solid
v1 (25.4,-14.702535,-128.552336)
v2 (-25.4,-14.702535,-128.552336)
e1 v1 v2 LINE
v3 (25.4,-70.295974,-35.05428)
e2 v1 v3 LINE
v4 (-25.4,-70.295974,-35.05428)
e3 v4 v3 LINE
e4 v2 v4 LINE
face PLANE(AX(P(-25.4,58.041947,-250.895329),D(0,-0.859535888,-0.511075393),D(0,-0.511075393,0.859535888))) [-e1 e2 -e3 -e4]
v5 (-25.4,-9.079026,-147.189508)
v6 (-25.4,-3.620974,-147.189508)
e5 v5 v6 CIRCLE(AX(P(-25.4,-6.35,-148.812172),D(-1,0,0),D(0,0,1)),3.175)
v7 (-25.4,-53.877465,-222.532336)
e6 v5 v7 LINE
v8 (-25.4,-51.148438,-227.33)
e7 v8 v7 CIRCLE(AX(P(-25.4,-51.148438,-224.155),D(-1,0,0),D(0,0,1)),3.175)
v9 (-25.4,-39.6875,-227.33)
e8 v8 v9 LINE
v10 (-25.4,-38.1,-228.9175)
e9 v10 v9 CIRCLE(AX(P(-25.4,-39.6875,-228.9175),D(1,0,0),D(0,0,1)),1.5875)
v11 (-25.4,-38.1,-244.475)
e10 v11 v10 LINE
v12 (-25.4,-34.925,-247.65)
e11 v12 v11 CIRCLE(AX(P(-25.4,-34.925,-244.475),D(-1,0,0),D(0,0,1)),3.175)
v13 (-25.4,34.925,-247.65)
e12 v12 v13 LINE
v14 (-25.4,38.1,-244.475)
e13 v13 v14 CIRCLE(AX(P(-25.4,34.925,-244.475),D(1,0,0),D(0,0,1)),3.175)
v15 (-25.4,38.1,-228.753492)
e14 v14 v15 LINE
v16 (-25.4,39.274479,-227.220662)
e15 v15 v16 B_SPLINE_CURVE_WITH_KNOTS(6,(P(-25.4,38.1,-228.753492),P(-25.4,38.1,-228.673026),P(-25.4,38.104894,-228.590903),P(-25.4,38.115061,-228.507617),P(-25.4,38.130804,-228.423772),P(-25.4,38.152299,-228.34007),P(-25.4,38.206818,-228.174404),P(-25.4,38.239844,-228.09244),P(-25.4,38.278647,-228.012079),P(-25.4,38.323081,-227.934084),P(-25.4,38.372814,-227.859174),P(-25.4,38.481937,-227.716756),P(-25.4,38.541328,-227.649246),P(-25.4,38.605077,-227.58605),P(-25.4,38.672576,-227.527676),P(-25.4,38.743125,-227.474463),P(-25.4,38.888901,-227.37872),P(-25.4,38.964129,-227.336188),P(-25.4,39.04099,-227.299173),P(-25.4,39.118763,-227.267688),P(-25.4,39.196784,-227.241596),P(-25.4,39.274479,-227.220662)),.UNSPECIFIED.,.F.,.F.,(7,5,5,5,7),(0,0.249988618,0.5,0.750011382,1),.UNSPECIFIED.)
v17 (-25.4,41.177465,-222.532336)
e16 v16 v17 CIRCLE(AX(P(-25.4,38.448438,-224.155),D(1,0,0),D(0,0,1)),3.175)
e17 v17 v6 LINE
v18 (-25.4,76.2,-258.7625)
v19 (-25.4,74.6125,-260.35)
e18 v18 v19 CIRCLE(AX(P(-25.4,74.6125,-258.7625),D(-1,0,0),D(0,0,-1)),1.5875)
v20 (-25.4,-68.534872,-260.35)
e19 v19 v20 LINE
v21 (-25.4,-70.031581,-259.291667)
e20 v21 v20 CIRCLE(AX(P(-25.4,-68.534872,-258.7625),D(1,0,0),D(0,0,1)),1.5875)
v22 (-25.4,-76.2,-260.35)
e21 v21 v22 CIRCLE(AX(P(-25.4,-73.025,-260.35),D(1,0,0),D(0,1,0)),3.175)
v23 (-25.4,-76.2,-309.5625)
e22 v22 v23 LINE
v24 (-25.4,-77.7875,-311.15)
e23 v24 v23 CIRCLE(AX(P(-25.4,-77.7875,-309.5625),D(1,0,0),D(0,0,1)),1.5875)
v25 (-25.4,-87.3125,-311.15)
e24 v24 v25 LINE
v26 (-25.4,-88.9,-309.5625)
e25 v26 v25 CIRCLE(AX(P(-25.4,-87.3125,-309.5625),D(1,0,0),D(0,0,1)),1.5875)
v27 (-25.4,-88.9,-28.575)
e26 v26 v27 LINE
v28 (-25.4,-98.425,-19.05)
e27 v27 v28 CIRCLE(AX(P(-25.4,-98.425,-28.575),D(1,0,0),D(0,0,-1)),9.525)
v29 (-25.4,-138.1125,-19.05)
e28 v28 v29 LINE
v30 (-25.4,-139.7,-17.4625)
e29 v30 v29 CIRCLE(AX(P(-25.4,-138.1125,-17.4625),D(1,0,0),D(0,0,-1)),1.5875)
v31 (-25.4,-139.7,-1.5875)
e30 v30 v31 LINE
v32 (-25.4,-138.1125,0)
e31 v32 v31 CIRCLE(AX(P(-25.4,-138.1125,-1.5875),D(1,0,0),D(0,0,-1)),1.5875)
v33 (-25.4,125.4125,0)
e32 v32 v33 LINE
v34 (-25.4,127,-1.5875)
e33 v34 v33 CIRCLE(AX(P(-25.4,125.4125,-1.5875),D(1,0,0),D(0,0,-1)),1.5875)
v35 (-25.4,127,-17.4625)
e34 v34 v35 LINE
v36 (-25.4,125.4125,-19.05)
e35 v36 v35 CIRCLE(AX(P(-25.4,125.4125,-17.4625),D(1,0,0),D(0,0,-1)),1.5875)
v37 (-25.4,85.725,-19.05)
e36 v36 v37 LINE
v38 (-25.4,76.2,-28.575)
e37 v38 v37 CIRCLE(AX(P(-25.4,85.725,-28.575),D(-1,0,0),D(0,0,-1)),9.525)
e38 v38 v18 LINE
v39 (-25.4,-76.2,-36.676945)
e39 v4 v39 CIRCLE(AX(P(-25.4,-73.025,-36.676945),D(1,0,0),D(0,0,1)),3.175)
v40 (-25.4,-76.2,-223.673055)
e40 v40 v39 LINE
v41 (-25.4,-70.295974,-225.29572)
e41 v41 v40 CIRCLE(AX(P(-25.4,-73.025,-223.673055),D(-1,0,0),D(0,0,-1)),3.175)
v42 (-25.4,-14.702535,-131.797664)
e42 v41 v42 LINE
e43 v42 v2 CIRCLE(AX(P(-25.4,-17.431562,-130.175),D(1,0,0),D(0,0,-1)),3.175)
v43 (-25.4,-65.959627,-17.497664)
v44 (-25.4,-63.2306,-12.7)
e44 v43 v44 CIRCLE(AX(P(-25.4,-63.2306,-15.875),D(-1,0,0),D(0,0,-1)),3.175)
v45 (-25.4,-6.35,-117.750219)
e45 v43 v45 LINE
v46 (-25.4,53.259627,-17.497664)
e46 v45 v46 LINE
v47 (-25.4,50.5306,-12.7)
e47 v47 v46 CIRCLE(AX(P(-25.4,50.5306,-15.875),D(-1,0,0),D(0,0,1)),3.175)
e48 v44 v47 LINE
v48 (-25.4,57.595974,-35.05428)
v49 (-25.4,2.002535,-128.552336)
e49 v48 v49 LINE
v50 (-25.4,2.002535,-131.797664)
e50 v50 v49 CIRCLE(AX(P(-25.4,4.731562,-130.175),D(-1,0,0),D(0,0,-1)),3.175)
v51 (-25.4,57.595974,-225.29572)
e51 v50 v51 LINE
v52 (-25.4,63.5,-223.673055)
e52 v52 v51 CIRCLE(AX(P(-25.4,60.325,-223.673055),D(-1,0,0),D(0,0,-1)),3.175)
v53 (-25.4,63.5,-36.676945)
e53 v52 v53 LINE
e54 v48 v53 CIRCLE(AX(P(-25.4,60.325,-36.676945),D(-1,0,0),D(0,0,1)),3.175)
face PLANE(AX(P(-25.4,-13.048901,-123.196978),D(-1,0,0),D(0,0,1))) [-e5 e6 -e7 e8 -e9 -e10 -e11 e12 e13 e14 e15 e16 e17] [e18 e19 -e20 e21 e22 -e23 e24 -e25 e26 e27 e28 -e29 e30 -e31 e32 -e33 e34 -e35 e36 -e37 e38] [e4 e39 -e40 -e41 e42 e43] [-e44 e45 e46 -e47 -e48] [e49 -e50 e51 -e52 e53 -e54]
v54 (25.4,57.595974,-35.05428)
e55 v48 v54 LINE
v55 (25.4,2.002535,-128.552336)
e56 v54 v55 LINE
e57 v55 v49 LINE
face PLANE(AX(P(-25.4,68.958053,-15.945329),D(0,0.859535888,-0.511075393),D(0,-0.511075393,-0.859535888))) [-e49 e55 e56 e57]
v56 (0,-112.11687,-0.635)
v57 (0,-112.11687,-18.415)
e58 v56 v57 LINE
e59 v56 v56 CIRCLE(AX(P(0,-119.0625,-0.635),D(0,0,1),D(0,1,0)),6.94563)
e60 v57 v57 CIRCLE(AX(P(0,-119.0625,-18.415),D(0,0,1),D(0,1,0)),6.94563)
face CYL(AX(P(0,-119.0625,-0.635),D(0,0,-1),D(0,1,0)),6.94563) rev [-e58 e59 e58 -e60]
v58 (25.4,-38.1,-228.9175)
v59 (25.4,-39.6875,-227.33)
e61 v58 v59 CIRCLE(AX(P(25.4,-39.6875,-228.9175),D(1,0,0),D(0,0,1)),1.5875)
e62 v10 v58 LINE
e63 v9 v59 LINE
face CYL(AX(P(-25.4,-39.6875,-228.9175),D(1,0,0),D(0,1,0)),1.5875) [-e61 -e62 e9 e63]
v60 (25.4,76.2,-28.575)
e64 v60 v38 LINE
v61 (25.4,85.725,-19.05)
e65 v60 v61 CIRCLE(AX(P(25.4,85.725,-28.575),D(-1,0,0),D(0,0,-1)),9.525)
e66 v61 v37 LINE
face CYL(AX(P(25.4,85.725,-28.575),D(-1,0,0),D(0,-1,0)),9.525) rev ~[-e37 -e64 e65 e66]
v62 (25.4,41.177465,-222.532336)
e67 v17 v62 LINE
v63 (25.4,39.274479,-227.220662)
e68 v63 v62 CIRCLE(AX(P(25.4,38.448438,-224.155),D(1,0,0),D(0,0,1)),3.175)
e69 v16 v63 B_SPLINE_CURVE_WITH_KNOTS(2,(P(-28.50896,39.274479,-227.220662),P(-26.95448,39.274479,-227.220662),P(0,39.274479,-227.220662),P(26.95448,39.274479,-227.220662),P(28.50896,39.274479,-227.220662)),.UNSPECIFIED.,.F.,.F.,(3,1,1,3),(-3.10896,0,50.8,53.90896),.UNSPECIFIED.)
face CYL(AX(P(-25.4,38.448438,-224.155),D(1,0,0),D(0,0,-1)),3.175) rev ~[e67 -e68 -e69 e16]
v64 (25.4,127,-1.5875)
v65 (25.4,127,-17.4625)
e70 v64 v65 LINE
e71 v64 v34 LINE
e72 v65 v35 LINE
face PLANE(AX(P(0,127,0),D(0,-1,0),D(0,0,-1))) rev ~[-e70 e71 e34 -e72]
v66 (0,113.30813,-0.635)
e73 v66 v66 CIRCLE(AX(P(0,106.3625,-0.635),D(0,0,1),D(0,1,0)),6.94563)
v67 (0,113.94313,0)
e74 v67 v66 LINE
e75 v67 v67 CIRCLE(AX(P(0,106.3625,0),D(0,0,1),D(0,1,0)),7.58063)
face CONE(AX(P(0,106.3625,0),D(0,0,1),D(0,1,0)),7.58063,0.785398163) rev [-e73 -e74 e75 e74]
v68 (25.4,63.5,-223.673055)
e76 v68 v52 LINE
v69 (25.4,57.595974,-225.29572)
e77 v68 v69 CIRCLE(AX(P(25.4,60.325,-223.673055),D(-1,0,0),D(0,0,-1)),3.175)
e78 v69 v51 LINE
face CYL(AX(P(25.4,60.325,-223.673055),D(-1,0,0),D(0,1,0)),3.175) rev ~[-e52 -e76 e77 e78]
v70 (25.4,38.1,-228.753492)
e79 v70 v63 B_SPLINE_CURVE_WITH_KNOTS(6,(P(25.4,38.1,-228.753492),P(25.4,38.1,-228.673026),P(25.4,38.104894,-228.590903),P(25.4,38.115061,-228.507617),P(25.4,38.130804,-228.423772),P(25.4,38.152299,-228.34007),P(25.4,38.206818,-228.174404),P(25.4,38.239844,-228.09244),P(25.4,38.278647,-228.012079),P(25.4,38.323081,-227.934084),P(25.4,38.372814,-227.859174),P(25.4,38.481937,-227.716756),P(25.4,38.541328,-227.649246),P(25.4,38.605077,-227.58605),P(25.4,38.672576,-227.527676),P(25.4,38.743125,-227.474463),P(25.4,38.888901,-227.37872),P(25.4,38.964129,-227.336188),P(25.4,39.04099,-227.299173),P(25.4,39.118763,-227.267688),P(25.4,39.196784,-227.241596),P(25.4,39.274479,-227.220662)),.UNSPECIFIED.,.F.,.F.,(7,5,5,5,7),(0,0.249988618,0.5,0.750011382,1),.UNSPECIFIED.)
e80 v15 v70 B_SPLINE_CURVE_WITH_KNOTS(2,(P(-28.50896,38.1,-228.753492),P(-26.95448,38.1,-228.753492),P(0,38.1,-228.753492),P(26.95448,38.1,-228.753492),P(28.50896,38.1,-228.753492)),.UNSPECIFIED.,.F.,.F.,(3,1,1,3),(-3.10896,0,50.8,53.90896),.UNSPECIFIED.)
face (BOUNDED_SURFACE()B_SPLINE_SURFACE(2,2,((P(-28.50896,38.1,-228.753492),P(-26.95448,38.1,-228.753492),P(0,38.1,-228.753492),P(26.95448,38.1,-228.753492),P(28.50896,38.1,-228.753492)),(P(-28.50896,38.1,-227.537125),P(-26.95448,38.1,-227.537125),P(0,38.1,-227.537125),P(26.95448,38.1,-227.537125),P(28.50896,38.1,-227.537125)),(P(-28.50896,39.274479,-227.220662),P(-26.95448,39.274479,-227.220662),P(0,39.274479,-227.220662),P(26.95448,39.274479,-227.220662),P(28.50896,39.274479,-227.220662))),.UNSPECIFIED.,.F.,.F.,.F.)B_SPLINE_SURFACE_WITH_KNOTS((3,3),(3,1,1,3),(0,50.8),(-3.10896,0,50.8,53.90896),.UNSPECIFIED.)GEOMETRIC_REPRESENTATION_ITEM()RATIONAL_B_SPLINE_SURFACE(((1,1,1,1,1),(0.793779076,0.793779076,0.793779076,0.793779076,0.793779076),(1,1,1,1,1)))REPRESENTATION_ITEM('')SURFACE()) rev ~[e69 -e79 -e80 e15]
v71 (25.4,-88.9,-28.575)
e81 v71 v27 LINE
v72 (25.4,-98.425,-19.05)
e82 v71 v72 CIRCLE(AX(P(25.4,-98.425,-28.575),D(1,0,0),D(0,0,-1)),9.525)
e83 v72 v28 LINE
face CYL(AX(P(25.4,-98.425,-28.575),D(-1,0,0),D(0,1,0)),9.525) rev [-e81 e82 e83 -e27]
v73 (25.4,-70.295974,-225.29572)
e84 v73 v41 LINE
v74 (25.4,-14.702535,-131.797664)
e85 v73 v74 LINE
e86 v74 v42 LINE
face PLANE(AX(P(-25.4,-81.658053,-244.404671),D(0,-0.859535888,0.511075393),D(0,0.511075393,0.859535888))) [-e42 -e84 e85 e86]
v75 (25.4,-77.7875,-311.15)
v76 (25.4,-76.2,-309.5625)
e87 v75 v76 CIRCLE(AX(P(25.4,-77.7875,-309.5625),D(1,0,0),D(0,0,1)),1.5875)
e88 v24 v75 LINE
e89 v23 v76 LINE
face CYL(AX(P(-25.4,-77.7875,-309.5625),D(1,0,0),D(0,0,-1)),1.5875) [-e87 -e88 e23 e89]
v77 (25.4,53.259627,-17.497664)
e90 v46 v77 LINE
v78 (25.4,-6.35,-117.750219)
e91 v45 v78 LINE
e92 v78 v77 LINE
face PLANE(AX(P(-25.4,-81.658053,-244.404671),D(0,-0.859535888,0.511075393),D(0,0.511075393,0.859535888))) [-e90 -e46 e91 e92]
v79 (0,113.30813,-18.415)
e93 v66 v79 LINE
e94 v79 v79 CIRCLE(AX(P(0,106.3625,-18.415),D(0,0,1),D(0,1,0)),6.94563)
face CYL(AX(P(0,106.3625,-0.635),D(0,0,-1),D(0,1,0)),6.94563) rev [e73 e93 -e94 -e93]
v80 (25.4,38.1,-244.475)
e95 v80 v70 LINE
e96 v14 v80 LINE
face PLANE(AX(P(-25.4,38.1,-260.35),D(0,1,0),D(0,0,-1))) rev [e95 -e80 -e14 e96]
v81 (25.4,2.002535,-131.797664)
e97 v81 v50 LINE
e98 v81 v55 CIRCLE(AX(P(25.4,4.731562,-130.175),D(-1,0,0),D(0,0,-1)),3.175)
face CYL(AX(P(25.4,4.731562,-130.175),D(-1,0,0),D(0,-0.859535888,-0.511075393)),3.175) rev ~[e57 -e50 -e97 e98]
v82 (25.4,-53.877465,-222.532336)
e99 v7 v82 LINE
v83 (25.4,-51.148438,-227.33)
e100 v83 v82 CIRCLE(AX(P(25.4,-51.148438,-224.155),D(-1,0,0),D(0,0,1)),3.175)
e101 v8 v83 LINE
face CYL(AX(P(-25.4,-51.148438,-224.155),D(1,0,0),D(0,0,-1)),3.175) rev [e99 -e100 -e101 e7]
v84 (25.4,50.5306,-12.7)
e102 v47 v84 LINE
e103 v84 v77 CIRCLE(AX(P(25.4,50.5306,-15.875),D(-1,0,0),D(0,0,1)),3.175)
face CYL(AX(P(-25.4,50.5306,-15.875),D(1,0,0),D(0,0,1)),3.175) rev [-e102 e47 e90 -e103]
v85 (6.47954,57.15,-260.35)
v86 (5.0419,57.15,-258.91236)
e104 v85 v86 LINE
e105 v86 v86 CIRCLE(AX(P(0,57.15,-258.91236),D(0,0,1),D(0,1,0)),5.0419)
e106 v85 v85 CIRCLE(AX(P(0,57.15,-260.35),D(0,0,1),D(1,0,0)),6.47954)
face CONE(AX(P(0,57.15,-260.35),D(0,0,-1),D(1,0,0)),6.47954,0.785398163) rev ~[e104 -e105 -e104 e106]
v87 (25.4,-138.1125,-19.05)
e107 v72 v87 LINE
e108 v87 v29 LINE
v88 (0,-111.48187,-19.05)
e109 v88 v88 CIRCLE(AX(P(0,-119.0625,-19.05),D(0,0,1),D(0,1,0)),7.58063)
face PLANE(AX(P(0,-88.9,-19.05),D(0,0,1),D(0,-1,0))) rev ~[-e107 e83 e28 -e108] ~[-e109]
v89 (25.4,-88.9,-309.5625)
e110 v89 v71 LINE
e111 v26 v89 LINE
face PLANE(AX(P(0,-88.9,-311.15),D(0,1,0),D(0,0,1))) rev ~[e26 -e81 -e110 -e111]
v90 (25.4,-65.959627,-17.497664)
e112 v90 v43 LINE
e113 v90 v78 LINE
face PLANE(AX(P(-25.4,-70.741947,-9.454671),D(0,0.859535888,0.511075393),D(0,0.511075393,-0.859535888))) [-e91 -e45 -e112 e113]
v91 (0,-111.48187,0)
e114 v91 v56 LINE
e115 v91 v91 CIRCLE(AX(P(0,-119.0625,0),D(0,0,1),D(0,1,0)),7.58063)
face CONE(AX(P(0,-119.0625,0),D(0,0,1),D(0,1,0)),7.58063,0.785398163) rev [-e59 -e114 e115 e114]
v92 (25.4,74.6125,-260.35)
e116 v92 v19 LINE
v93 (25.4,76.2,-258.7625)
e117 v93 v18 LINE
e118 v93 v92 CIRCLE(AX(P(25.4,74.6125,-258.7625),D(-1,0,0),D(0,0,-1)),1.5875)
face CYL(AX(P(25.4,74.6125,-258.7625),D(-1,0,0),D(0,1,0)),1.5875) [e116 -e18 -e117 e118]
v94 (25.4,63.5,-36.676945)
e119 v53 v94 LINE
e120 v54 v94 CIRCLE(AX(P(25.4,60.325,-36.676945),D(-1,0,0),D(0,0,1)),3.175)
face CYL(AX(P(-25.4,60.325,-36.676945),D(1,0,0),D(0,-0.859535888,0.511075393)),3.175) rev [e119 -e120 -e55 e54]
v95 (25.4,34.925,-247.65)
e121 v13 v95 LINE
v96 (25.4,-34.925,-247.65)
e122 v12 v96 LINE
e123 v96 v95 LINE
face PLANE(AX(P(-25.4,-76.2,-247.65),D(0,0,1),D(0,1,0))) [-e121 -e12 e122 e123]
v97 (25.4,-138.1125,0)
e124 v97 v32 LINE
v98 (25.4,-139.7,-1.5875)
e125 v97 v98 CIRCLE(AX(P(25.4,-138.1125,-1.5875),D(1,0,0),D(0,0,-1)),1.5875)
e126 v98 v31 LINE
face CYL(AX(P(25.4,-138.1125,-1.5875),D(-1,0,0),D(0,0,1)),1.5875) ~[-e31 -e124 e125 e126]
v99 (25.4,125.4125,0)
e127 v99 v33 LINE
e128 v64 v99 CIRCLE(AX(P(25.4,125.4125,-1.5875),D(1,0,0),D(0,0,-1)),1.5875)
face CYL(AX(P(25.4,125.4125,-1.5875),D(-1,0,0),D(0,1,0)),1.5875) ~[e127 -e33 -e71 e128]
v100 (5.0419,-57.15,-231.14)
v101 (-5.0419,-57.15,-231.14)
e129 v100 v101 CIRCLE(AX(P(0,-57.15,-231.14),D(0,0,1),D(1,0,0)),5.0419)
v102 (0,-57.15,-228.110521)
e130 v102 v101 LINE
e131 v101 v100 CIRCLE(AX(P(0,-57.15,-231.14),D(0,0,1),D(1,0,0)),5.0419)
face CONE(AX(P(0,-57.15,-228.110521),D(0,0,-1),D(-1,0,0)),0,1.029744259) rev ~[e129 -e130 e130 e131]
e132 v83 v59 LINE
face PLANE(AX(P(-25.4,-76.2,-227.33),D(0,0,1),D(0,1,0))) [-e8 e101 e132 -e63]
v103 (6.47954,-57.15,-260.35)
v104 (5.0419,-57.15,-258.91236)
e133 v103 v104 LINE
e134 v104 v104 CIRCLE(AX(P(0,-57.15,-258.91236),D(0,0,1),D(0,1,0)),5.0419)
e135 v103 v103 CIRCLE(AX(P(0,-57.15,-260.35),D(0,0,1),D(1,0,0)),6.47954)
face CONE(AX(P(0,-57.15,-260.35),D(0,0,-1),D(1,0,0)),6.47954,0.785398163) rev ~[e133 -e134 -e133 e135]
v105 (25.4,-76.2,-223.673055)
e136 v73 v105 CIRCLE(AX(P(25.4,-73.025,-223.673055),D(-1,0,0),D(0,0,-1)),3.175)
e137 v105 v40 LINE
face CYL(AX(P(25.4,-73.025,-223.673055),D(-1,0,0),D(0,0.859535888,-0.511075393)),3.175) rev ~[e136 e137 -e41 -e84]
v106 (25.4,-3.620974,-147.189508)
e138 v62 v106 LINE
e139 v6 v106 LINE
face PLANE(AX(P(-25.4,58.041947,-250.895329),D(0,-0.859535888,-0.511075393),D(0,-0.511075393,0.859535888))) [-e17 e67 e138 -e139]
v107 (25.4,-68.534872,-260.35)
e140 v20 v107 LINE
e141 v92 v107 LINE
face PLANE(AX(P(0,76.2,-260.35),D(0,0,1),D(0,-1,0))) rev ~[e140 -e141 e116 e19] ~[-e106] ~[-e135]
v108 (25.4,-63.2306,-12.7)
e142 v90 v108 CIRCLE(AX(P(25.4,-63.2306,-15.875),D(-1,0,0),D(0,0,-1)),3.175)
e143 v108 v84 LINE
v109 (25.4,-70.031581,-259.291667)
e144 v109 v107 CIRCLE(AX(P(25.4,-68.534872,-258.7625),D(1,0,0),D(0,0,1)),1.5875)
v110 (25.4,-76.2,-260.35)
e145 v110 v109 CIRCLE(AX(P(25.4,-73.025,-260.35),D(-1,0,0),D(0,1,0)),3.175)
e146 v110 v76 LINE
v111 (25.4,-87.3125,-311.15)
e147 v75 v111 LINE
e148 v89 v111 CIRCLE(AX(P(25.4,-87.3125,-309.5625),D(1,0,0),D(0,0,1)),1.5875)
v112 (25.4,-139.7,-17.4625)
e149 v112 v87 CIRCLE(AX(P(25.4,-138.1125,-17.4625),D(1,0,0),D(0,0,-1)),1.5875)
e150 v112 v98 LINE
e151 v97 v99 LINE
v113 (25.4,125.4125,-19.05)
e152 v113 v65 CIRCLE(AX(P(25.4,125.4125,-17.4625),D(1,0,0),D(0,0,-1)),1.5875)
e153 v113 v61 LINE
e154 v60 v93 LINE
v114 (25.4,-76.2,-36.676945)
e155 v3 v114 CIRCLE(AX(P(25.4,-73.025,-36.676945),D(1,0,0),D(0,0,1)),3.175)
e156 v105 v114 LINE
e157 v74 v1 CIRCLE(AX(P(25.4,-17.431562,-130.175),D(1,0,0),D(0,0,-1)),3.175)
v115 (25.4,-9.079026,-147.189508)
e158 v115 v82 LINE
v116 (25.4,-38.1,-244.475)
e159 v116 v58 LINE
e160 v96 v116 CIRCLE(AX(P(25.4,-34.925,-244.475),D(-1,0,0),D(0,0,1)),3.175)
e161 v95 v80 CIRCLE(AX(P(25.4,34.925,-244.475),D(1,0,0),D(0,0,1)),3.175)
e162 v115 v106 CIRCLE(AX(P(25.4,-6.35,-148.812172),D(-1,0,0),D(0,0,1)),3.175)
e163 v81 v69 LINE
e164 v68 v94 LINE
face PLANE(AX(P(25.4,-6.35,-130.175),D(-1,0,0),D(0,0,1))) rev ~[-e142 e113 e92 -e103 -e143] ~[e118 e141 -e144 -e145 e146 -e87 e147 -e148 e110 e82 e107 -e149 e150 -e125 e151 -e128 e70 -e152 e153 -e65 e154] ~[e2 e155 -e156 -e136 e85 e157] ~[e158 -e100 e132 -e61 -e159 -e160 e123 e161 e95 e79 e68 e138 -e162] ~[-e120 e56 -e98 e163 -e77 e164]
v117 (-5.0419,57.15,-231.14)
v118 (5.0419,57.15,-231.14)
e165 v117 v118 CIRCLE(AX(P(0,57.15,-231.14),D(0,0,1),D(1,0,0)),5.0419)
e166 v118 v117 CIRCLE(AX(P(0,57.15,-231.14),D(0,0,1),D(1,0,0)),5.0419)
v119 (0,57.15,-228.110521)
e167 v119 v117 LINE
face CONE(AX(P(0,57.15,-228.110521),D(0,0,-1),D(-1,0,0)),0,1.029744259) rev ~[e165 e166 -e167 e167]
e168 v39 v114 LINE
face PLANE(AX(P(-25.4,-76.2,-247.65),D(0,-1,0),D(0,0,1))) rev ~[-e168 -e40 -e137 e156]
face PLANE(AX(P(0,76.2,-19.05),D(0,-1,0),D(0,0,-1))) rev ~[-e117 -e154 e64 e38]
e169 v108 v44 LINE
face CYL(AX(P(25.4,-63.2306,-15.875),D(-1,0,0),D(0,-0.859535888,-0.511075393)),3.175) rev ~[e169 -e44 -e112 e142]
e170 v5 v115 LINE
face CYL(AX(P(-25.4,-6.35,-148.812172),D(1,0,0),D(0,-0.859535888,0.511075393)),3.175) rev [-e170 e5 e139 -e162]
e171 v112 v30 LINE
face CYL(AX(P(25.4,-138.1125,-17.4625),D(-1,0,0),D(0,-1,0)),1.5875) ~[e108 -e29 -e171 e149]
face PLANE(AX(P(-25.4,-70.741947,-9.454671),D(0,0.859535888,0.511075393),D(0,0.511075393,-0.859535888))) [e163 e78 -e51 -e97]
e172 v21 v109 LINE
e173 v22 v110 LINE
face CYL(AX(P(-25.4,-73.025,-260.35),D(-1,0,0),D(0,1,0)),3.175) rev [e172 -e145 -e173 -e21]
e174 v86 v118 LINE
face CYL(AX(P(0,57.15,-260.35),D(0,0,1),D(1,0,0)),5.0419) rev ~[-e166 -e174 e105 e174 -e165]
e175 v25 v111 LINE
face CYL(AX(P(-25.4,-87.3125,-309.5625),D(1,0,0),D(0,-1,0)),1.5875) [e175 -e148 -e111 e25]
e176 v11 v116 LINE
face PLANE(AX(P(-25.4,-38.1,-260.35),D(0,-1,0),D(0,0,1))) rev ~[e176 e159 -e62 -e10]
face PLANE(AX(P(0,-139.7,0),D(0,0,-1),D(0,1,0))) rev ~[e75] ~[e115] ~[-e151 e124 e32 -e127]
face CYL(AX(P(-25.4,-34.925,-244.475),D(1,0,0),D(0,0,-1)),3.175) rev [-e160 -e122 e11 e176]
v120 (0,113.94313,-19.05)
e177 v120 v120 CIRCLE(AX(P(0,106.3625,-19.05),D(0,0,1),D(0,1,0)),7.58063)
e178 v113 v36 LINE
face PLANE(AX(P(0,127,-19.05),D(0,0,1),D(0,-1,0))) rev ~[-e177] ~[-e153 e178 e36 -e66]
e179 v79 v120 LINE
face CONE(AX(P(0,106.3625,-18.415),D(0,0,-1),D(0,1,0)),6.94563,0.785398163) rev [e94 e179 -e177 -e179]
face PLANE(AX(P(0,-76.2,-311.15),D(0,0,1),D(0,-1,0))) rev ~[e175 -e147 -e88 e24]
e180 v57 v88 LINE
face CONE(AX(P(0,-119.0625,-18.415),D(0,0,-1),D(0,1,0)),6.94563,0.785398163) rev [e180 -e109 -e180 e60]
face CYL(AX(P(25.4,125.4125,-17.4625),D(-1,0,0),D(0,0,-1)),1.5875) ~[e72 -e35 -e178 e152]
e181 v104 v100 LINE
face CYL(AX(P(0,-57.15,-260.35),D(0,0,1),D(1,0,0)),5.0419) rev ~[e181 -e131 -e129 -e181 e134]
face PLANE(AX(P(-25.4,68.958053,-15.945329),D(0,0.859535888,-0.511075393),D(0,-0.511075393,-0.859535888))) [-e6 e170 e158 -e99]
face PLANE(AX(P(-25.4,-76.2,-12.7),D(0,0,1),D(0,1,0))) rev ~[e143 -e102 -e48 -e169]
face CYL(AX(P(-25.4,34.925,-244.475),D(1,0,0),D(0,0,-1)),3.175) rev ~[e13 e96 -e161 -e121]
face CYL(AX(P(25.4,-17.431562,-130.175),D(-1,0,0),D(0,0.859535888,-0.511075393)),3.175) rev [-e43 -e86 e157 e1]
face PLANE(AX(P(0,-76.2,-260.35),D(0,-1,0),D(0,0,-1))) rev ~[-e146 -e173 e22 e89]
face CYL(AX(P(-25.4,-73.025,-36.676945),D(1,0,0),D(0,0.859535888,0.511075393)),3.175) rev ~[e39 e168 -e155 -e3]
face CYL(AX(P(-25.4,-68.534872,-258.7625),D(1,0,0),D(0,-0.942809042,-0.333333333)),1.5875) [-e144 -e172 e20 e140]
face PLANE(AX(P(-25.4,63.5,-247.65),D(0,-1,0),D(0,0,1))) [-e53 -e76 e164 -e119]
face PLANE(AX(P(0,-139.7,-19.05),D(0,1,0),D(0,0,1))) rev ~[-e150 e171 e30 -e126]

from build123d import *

# Parameters (mm, degrees)
BOSS_EXTRUDE1_DEPTH                          = 25.4
SKETCH2_W                                    = 234.95
SKETCH2_H                                    = 139.7
CUT_EXTRUDE1_DEPTH                           = 51.8
EXTRUDE_THIN1_DEPTH                          = 50.8
EXTRUDE_THIN2_DEPTH                          = 50.8
FILLET5_R                                    = 3.175
SKETCH11_W                                   = 33.02
SKETCH11_H                                   = 38.1
BOSS_EXTRUDE2_DEPTH                          = 50.8
TAPPED_HOLE_FOR_3_8_16_HELICOIL1_D           = 10.0838
TAPPED_HOLE_FOR_3_8_16_HELICOIL1_DEPTH       = 29.21
TAPPED_HOLE_FOR_3_8_16_HELICOIL1_CSINK_D     = 12.95908
TAPPED_HOLE_FOR_3_8_16_HELICOIL1_CSINK_ANGLE = 90
TAPPED_HOLE_FOR_3_8_16_HELICOIL1_TIP         = 3.029479155
CUT_EXTRUDE2_DEPTH                           = 51.8
FILLET1_R                                    = 3.175
FILLET2_R                                    = 1.5875
FILLET3_R                                    = 9.525
F_1_2_CLEARANCE_HOLE1_AT_2_COUNT             = 2
F_1_2_CLEARANCE_HOLE1_AT_2_PITCH             = 225.425


with BuildPart() as part:
    # Sketch1 → Boss-Extrude1 (new body, symmetric)
    with BuildSketch(Plane(origin=(0, 0, 0), x_dir=(0, 0, -1), z_dir=(1, 0, 0))):
        Polygon((311.15, -88.9), (19.05, -88.9), (19.05, -139.7), (0, -139.7), (0, 127), (19.05, 127), (19.05, 76.2), (260.35, 76.2), (260.35, -76.2), (311.15, -76.2), align=None)
    extrude(amount=BOSS_EXTRUDE1_DEPTH, both=True)

    # Sketch2 → Cut-Extrude1 (cut, through all)
    with BuildSketch(Plane.ZY.offset(25.4)):
        with Locations((-130.175, -6.35)):
            Rectangle(SKETCH2_W, SKETCH2_H)
    extrude(amount=-CUT_EXTRUDE1_DEPTH, mode=Mode.SUBTRACT)

    # Sketch3 → Extrude-Thin1 (add)
    with BuildSketch(Plane.ZY.offset(25.4)):
        Polygon((-250.895328745, 58.041947111), (-15.945328745, -81.658052889), (-9.454671255, -70.741947111), (-244.404671255, 68.958052889), align=None)
    extrude(amount=-EXTRUDE_THIN1_DEPTH)

    # Sketch4 → Extrude-Thin2 (add)
    with BuildSketch(Plane.ZY.offset(25.4)):
        Polygon((-244.404671255, -81.658052889), (-9.454671255, 58.041947111), (-15.945328745, 68.958052889), (-250.895328745, -70.741947111), align=None)
    extrude(amount=-EXTRUDE_THIN2_DEPTH)

    # Fillet5
    fillet5_edges = [part.edges().sort_by_distance(p)[0] for p in [
        (0, -76.2, -235.225218669),
        (0, 63.5, -235.225218669),
    ]]
    fillet(fillet5_edges, radius=FILLET5_R)

    # Sketch11 → Boss-Extrude2 (add)
    with BuildSketch(Plane.ZY.offset(25.4)):
        with Locations((-243.84, -57.15)):
            Rectangle(SKETCH11_W, SKETCH11_H)
    boss_extrude2 = extrude(amount=-BOSS_EXTRUDE2_DEPTH)

    # Mirror2: Boss-Extrude2 across plane
    add(boss_extrude2.mirror(Plane.ZX))

    # Tapped Hole for 3/8-16 Helicoil1
    with Locations(Plane(origin=(-14.876894715, 2.702023936, -260.35), x_dir=(-1, 0, 0), z_dir=(0, 0, -1))):
        with Locations((-14.876894715, 54.447976064), (-14.876894715, -59.852023936)):
            CounterSinkHole(TAPPED_HOLE_FOR_3_8_16_HELICOIL1_D / 2, TAPPED_HOLE_FOR_3_8_16_HELICOIL1_CSINK_D / 2, depth=TAPPED_HOLE_FOR_3_8_16_HELICOIL1_DEPTH, counter_sink_angle=TAPPED_HOLE_FOR_3_8_16_HELICOIL1_CSINK_ANGLE)
            with Locations((0, 0, -(TAPPED_HOLE_FOR_3_8_16_HELICOIL1_DEPTH + TAPPED_HOLE_FOR_3_8_16_HELICOIL1_TIP / 2))):  # 118° drill point
                Cone(0, TAPPED_HOLE_FOR_3_8_16_HELICOIL1_D / 2, TAPPED_HOLE_FOR_3_8_16_HELICOIL1_TIP, mode=Mode.SUBTRACT)

    # Sketch12 → Cut-Extrude2 (cut, through all)
    with BuildSketch(Plane.ZY.offset(25.4)):
        with BuildLine():
            Line((-260.35, -76.2), (-260.35, -69.85))
            ThreePointArc((-260.35, -69.85), (-257.175, -73.025), (-260.35, -76.2))
        make_face()
    extrude(amount=-CUT_EXTRUDE2_DEPTH, mode=Mode.SUBTRACT)

    # Fillet1
    fillet1_edges = [part.edges().sort_by_distance(p)[0] for p in [
        (0, -56.73013002, -227.33),
        (0, -38.1, -247.65),
        (0, 44.03013002, -227.33),
        (0, 38.1, -247.65),
        (0, -76.2, -25.124781331),
        (0, -68.812292182, -12.7),
        (0, -6.35, -142.599781331),
        (0, -13.737707818, -130.175),
        (0, 56.112292182, -12.7),
        (0, 63.5, -25.124781331),
        (0, 1.037707818, -130.175),
    ]]
    fillet(fillet1_edges, radius=FILLET1_R)

    # Fillet2
    fillet2_edges = [part.edges().sort_by_distance(p)[0] for p in [
        (0, 127, 0),
        (0, 127, -19.05),
        (0, -139.7, 0),
        (0, -139.7, -19.05),
        (0, -88.9, -311.15),
        (0, -76.2, -311.15),
        (0, 76.2, -260.35),
        (0, 38.1, -227.33),
        (0, -38.1, -227.33),
        (0, -69.85, -260.35),
    ]]
    fillet(fillet2_edges, radius=FILLET2_R)

    # Fillet3
    fillet3_edges = [part.edges().sort_by_distance(p)[0] for p in [
        (0, -88.9, -19.05),
        (0, 76.2, -19.05),
    ]]
    fillet(fillet3_edges, radius=FILLET3_R)

    # Sketch9 → 1/2 Clearance Hole1 (revolve, cut)
    with BuildSketch(Plane(origin=(0, 106.3625, -19.05), x_dir=(0, 1, 0), z_dir=(1, 0, 0))):
        Polygon((0, 0), (0, 19.05), (7.58063, 19.05), (6.94563, 18.415), (6.94563, 0.635), (7.58063, 0), align=None)
    f_1_2_clearance_hole1 = revolve(axis=Axis((0, 106.3625, -25.4), (0, 0, 1)), mode=Mode.SUBTRACT)

    # 1/2 Clearance Hole1 at 2: 1/2 Clearance Hole1 ×2
    with Locations(*[(0, -i * F_1_2_CLEARANCE_HOLE1_AT_2_PITCH, 0) for i in range(1, F_1_2_CLEARANCE_HOLE1_AT_2_COUNT)]):
        add(f_1_2_clearance_hole1, mode=Mode.SUBTRACT)


solid = part.part
